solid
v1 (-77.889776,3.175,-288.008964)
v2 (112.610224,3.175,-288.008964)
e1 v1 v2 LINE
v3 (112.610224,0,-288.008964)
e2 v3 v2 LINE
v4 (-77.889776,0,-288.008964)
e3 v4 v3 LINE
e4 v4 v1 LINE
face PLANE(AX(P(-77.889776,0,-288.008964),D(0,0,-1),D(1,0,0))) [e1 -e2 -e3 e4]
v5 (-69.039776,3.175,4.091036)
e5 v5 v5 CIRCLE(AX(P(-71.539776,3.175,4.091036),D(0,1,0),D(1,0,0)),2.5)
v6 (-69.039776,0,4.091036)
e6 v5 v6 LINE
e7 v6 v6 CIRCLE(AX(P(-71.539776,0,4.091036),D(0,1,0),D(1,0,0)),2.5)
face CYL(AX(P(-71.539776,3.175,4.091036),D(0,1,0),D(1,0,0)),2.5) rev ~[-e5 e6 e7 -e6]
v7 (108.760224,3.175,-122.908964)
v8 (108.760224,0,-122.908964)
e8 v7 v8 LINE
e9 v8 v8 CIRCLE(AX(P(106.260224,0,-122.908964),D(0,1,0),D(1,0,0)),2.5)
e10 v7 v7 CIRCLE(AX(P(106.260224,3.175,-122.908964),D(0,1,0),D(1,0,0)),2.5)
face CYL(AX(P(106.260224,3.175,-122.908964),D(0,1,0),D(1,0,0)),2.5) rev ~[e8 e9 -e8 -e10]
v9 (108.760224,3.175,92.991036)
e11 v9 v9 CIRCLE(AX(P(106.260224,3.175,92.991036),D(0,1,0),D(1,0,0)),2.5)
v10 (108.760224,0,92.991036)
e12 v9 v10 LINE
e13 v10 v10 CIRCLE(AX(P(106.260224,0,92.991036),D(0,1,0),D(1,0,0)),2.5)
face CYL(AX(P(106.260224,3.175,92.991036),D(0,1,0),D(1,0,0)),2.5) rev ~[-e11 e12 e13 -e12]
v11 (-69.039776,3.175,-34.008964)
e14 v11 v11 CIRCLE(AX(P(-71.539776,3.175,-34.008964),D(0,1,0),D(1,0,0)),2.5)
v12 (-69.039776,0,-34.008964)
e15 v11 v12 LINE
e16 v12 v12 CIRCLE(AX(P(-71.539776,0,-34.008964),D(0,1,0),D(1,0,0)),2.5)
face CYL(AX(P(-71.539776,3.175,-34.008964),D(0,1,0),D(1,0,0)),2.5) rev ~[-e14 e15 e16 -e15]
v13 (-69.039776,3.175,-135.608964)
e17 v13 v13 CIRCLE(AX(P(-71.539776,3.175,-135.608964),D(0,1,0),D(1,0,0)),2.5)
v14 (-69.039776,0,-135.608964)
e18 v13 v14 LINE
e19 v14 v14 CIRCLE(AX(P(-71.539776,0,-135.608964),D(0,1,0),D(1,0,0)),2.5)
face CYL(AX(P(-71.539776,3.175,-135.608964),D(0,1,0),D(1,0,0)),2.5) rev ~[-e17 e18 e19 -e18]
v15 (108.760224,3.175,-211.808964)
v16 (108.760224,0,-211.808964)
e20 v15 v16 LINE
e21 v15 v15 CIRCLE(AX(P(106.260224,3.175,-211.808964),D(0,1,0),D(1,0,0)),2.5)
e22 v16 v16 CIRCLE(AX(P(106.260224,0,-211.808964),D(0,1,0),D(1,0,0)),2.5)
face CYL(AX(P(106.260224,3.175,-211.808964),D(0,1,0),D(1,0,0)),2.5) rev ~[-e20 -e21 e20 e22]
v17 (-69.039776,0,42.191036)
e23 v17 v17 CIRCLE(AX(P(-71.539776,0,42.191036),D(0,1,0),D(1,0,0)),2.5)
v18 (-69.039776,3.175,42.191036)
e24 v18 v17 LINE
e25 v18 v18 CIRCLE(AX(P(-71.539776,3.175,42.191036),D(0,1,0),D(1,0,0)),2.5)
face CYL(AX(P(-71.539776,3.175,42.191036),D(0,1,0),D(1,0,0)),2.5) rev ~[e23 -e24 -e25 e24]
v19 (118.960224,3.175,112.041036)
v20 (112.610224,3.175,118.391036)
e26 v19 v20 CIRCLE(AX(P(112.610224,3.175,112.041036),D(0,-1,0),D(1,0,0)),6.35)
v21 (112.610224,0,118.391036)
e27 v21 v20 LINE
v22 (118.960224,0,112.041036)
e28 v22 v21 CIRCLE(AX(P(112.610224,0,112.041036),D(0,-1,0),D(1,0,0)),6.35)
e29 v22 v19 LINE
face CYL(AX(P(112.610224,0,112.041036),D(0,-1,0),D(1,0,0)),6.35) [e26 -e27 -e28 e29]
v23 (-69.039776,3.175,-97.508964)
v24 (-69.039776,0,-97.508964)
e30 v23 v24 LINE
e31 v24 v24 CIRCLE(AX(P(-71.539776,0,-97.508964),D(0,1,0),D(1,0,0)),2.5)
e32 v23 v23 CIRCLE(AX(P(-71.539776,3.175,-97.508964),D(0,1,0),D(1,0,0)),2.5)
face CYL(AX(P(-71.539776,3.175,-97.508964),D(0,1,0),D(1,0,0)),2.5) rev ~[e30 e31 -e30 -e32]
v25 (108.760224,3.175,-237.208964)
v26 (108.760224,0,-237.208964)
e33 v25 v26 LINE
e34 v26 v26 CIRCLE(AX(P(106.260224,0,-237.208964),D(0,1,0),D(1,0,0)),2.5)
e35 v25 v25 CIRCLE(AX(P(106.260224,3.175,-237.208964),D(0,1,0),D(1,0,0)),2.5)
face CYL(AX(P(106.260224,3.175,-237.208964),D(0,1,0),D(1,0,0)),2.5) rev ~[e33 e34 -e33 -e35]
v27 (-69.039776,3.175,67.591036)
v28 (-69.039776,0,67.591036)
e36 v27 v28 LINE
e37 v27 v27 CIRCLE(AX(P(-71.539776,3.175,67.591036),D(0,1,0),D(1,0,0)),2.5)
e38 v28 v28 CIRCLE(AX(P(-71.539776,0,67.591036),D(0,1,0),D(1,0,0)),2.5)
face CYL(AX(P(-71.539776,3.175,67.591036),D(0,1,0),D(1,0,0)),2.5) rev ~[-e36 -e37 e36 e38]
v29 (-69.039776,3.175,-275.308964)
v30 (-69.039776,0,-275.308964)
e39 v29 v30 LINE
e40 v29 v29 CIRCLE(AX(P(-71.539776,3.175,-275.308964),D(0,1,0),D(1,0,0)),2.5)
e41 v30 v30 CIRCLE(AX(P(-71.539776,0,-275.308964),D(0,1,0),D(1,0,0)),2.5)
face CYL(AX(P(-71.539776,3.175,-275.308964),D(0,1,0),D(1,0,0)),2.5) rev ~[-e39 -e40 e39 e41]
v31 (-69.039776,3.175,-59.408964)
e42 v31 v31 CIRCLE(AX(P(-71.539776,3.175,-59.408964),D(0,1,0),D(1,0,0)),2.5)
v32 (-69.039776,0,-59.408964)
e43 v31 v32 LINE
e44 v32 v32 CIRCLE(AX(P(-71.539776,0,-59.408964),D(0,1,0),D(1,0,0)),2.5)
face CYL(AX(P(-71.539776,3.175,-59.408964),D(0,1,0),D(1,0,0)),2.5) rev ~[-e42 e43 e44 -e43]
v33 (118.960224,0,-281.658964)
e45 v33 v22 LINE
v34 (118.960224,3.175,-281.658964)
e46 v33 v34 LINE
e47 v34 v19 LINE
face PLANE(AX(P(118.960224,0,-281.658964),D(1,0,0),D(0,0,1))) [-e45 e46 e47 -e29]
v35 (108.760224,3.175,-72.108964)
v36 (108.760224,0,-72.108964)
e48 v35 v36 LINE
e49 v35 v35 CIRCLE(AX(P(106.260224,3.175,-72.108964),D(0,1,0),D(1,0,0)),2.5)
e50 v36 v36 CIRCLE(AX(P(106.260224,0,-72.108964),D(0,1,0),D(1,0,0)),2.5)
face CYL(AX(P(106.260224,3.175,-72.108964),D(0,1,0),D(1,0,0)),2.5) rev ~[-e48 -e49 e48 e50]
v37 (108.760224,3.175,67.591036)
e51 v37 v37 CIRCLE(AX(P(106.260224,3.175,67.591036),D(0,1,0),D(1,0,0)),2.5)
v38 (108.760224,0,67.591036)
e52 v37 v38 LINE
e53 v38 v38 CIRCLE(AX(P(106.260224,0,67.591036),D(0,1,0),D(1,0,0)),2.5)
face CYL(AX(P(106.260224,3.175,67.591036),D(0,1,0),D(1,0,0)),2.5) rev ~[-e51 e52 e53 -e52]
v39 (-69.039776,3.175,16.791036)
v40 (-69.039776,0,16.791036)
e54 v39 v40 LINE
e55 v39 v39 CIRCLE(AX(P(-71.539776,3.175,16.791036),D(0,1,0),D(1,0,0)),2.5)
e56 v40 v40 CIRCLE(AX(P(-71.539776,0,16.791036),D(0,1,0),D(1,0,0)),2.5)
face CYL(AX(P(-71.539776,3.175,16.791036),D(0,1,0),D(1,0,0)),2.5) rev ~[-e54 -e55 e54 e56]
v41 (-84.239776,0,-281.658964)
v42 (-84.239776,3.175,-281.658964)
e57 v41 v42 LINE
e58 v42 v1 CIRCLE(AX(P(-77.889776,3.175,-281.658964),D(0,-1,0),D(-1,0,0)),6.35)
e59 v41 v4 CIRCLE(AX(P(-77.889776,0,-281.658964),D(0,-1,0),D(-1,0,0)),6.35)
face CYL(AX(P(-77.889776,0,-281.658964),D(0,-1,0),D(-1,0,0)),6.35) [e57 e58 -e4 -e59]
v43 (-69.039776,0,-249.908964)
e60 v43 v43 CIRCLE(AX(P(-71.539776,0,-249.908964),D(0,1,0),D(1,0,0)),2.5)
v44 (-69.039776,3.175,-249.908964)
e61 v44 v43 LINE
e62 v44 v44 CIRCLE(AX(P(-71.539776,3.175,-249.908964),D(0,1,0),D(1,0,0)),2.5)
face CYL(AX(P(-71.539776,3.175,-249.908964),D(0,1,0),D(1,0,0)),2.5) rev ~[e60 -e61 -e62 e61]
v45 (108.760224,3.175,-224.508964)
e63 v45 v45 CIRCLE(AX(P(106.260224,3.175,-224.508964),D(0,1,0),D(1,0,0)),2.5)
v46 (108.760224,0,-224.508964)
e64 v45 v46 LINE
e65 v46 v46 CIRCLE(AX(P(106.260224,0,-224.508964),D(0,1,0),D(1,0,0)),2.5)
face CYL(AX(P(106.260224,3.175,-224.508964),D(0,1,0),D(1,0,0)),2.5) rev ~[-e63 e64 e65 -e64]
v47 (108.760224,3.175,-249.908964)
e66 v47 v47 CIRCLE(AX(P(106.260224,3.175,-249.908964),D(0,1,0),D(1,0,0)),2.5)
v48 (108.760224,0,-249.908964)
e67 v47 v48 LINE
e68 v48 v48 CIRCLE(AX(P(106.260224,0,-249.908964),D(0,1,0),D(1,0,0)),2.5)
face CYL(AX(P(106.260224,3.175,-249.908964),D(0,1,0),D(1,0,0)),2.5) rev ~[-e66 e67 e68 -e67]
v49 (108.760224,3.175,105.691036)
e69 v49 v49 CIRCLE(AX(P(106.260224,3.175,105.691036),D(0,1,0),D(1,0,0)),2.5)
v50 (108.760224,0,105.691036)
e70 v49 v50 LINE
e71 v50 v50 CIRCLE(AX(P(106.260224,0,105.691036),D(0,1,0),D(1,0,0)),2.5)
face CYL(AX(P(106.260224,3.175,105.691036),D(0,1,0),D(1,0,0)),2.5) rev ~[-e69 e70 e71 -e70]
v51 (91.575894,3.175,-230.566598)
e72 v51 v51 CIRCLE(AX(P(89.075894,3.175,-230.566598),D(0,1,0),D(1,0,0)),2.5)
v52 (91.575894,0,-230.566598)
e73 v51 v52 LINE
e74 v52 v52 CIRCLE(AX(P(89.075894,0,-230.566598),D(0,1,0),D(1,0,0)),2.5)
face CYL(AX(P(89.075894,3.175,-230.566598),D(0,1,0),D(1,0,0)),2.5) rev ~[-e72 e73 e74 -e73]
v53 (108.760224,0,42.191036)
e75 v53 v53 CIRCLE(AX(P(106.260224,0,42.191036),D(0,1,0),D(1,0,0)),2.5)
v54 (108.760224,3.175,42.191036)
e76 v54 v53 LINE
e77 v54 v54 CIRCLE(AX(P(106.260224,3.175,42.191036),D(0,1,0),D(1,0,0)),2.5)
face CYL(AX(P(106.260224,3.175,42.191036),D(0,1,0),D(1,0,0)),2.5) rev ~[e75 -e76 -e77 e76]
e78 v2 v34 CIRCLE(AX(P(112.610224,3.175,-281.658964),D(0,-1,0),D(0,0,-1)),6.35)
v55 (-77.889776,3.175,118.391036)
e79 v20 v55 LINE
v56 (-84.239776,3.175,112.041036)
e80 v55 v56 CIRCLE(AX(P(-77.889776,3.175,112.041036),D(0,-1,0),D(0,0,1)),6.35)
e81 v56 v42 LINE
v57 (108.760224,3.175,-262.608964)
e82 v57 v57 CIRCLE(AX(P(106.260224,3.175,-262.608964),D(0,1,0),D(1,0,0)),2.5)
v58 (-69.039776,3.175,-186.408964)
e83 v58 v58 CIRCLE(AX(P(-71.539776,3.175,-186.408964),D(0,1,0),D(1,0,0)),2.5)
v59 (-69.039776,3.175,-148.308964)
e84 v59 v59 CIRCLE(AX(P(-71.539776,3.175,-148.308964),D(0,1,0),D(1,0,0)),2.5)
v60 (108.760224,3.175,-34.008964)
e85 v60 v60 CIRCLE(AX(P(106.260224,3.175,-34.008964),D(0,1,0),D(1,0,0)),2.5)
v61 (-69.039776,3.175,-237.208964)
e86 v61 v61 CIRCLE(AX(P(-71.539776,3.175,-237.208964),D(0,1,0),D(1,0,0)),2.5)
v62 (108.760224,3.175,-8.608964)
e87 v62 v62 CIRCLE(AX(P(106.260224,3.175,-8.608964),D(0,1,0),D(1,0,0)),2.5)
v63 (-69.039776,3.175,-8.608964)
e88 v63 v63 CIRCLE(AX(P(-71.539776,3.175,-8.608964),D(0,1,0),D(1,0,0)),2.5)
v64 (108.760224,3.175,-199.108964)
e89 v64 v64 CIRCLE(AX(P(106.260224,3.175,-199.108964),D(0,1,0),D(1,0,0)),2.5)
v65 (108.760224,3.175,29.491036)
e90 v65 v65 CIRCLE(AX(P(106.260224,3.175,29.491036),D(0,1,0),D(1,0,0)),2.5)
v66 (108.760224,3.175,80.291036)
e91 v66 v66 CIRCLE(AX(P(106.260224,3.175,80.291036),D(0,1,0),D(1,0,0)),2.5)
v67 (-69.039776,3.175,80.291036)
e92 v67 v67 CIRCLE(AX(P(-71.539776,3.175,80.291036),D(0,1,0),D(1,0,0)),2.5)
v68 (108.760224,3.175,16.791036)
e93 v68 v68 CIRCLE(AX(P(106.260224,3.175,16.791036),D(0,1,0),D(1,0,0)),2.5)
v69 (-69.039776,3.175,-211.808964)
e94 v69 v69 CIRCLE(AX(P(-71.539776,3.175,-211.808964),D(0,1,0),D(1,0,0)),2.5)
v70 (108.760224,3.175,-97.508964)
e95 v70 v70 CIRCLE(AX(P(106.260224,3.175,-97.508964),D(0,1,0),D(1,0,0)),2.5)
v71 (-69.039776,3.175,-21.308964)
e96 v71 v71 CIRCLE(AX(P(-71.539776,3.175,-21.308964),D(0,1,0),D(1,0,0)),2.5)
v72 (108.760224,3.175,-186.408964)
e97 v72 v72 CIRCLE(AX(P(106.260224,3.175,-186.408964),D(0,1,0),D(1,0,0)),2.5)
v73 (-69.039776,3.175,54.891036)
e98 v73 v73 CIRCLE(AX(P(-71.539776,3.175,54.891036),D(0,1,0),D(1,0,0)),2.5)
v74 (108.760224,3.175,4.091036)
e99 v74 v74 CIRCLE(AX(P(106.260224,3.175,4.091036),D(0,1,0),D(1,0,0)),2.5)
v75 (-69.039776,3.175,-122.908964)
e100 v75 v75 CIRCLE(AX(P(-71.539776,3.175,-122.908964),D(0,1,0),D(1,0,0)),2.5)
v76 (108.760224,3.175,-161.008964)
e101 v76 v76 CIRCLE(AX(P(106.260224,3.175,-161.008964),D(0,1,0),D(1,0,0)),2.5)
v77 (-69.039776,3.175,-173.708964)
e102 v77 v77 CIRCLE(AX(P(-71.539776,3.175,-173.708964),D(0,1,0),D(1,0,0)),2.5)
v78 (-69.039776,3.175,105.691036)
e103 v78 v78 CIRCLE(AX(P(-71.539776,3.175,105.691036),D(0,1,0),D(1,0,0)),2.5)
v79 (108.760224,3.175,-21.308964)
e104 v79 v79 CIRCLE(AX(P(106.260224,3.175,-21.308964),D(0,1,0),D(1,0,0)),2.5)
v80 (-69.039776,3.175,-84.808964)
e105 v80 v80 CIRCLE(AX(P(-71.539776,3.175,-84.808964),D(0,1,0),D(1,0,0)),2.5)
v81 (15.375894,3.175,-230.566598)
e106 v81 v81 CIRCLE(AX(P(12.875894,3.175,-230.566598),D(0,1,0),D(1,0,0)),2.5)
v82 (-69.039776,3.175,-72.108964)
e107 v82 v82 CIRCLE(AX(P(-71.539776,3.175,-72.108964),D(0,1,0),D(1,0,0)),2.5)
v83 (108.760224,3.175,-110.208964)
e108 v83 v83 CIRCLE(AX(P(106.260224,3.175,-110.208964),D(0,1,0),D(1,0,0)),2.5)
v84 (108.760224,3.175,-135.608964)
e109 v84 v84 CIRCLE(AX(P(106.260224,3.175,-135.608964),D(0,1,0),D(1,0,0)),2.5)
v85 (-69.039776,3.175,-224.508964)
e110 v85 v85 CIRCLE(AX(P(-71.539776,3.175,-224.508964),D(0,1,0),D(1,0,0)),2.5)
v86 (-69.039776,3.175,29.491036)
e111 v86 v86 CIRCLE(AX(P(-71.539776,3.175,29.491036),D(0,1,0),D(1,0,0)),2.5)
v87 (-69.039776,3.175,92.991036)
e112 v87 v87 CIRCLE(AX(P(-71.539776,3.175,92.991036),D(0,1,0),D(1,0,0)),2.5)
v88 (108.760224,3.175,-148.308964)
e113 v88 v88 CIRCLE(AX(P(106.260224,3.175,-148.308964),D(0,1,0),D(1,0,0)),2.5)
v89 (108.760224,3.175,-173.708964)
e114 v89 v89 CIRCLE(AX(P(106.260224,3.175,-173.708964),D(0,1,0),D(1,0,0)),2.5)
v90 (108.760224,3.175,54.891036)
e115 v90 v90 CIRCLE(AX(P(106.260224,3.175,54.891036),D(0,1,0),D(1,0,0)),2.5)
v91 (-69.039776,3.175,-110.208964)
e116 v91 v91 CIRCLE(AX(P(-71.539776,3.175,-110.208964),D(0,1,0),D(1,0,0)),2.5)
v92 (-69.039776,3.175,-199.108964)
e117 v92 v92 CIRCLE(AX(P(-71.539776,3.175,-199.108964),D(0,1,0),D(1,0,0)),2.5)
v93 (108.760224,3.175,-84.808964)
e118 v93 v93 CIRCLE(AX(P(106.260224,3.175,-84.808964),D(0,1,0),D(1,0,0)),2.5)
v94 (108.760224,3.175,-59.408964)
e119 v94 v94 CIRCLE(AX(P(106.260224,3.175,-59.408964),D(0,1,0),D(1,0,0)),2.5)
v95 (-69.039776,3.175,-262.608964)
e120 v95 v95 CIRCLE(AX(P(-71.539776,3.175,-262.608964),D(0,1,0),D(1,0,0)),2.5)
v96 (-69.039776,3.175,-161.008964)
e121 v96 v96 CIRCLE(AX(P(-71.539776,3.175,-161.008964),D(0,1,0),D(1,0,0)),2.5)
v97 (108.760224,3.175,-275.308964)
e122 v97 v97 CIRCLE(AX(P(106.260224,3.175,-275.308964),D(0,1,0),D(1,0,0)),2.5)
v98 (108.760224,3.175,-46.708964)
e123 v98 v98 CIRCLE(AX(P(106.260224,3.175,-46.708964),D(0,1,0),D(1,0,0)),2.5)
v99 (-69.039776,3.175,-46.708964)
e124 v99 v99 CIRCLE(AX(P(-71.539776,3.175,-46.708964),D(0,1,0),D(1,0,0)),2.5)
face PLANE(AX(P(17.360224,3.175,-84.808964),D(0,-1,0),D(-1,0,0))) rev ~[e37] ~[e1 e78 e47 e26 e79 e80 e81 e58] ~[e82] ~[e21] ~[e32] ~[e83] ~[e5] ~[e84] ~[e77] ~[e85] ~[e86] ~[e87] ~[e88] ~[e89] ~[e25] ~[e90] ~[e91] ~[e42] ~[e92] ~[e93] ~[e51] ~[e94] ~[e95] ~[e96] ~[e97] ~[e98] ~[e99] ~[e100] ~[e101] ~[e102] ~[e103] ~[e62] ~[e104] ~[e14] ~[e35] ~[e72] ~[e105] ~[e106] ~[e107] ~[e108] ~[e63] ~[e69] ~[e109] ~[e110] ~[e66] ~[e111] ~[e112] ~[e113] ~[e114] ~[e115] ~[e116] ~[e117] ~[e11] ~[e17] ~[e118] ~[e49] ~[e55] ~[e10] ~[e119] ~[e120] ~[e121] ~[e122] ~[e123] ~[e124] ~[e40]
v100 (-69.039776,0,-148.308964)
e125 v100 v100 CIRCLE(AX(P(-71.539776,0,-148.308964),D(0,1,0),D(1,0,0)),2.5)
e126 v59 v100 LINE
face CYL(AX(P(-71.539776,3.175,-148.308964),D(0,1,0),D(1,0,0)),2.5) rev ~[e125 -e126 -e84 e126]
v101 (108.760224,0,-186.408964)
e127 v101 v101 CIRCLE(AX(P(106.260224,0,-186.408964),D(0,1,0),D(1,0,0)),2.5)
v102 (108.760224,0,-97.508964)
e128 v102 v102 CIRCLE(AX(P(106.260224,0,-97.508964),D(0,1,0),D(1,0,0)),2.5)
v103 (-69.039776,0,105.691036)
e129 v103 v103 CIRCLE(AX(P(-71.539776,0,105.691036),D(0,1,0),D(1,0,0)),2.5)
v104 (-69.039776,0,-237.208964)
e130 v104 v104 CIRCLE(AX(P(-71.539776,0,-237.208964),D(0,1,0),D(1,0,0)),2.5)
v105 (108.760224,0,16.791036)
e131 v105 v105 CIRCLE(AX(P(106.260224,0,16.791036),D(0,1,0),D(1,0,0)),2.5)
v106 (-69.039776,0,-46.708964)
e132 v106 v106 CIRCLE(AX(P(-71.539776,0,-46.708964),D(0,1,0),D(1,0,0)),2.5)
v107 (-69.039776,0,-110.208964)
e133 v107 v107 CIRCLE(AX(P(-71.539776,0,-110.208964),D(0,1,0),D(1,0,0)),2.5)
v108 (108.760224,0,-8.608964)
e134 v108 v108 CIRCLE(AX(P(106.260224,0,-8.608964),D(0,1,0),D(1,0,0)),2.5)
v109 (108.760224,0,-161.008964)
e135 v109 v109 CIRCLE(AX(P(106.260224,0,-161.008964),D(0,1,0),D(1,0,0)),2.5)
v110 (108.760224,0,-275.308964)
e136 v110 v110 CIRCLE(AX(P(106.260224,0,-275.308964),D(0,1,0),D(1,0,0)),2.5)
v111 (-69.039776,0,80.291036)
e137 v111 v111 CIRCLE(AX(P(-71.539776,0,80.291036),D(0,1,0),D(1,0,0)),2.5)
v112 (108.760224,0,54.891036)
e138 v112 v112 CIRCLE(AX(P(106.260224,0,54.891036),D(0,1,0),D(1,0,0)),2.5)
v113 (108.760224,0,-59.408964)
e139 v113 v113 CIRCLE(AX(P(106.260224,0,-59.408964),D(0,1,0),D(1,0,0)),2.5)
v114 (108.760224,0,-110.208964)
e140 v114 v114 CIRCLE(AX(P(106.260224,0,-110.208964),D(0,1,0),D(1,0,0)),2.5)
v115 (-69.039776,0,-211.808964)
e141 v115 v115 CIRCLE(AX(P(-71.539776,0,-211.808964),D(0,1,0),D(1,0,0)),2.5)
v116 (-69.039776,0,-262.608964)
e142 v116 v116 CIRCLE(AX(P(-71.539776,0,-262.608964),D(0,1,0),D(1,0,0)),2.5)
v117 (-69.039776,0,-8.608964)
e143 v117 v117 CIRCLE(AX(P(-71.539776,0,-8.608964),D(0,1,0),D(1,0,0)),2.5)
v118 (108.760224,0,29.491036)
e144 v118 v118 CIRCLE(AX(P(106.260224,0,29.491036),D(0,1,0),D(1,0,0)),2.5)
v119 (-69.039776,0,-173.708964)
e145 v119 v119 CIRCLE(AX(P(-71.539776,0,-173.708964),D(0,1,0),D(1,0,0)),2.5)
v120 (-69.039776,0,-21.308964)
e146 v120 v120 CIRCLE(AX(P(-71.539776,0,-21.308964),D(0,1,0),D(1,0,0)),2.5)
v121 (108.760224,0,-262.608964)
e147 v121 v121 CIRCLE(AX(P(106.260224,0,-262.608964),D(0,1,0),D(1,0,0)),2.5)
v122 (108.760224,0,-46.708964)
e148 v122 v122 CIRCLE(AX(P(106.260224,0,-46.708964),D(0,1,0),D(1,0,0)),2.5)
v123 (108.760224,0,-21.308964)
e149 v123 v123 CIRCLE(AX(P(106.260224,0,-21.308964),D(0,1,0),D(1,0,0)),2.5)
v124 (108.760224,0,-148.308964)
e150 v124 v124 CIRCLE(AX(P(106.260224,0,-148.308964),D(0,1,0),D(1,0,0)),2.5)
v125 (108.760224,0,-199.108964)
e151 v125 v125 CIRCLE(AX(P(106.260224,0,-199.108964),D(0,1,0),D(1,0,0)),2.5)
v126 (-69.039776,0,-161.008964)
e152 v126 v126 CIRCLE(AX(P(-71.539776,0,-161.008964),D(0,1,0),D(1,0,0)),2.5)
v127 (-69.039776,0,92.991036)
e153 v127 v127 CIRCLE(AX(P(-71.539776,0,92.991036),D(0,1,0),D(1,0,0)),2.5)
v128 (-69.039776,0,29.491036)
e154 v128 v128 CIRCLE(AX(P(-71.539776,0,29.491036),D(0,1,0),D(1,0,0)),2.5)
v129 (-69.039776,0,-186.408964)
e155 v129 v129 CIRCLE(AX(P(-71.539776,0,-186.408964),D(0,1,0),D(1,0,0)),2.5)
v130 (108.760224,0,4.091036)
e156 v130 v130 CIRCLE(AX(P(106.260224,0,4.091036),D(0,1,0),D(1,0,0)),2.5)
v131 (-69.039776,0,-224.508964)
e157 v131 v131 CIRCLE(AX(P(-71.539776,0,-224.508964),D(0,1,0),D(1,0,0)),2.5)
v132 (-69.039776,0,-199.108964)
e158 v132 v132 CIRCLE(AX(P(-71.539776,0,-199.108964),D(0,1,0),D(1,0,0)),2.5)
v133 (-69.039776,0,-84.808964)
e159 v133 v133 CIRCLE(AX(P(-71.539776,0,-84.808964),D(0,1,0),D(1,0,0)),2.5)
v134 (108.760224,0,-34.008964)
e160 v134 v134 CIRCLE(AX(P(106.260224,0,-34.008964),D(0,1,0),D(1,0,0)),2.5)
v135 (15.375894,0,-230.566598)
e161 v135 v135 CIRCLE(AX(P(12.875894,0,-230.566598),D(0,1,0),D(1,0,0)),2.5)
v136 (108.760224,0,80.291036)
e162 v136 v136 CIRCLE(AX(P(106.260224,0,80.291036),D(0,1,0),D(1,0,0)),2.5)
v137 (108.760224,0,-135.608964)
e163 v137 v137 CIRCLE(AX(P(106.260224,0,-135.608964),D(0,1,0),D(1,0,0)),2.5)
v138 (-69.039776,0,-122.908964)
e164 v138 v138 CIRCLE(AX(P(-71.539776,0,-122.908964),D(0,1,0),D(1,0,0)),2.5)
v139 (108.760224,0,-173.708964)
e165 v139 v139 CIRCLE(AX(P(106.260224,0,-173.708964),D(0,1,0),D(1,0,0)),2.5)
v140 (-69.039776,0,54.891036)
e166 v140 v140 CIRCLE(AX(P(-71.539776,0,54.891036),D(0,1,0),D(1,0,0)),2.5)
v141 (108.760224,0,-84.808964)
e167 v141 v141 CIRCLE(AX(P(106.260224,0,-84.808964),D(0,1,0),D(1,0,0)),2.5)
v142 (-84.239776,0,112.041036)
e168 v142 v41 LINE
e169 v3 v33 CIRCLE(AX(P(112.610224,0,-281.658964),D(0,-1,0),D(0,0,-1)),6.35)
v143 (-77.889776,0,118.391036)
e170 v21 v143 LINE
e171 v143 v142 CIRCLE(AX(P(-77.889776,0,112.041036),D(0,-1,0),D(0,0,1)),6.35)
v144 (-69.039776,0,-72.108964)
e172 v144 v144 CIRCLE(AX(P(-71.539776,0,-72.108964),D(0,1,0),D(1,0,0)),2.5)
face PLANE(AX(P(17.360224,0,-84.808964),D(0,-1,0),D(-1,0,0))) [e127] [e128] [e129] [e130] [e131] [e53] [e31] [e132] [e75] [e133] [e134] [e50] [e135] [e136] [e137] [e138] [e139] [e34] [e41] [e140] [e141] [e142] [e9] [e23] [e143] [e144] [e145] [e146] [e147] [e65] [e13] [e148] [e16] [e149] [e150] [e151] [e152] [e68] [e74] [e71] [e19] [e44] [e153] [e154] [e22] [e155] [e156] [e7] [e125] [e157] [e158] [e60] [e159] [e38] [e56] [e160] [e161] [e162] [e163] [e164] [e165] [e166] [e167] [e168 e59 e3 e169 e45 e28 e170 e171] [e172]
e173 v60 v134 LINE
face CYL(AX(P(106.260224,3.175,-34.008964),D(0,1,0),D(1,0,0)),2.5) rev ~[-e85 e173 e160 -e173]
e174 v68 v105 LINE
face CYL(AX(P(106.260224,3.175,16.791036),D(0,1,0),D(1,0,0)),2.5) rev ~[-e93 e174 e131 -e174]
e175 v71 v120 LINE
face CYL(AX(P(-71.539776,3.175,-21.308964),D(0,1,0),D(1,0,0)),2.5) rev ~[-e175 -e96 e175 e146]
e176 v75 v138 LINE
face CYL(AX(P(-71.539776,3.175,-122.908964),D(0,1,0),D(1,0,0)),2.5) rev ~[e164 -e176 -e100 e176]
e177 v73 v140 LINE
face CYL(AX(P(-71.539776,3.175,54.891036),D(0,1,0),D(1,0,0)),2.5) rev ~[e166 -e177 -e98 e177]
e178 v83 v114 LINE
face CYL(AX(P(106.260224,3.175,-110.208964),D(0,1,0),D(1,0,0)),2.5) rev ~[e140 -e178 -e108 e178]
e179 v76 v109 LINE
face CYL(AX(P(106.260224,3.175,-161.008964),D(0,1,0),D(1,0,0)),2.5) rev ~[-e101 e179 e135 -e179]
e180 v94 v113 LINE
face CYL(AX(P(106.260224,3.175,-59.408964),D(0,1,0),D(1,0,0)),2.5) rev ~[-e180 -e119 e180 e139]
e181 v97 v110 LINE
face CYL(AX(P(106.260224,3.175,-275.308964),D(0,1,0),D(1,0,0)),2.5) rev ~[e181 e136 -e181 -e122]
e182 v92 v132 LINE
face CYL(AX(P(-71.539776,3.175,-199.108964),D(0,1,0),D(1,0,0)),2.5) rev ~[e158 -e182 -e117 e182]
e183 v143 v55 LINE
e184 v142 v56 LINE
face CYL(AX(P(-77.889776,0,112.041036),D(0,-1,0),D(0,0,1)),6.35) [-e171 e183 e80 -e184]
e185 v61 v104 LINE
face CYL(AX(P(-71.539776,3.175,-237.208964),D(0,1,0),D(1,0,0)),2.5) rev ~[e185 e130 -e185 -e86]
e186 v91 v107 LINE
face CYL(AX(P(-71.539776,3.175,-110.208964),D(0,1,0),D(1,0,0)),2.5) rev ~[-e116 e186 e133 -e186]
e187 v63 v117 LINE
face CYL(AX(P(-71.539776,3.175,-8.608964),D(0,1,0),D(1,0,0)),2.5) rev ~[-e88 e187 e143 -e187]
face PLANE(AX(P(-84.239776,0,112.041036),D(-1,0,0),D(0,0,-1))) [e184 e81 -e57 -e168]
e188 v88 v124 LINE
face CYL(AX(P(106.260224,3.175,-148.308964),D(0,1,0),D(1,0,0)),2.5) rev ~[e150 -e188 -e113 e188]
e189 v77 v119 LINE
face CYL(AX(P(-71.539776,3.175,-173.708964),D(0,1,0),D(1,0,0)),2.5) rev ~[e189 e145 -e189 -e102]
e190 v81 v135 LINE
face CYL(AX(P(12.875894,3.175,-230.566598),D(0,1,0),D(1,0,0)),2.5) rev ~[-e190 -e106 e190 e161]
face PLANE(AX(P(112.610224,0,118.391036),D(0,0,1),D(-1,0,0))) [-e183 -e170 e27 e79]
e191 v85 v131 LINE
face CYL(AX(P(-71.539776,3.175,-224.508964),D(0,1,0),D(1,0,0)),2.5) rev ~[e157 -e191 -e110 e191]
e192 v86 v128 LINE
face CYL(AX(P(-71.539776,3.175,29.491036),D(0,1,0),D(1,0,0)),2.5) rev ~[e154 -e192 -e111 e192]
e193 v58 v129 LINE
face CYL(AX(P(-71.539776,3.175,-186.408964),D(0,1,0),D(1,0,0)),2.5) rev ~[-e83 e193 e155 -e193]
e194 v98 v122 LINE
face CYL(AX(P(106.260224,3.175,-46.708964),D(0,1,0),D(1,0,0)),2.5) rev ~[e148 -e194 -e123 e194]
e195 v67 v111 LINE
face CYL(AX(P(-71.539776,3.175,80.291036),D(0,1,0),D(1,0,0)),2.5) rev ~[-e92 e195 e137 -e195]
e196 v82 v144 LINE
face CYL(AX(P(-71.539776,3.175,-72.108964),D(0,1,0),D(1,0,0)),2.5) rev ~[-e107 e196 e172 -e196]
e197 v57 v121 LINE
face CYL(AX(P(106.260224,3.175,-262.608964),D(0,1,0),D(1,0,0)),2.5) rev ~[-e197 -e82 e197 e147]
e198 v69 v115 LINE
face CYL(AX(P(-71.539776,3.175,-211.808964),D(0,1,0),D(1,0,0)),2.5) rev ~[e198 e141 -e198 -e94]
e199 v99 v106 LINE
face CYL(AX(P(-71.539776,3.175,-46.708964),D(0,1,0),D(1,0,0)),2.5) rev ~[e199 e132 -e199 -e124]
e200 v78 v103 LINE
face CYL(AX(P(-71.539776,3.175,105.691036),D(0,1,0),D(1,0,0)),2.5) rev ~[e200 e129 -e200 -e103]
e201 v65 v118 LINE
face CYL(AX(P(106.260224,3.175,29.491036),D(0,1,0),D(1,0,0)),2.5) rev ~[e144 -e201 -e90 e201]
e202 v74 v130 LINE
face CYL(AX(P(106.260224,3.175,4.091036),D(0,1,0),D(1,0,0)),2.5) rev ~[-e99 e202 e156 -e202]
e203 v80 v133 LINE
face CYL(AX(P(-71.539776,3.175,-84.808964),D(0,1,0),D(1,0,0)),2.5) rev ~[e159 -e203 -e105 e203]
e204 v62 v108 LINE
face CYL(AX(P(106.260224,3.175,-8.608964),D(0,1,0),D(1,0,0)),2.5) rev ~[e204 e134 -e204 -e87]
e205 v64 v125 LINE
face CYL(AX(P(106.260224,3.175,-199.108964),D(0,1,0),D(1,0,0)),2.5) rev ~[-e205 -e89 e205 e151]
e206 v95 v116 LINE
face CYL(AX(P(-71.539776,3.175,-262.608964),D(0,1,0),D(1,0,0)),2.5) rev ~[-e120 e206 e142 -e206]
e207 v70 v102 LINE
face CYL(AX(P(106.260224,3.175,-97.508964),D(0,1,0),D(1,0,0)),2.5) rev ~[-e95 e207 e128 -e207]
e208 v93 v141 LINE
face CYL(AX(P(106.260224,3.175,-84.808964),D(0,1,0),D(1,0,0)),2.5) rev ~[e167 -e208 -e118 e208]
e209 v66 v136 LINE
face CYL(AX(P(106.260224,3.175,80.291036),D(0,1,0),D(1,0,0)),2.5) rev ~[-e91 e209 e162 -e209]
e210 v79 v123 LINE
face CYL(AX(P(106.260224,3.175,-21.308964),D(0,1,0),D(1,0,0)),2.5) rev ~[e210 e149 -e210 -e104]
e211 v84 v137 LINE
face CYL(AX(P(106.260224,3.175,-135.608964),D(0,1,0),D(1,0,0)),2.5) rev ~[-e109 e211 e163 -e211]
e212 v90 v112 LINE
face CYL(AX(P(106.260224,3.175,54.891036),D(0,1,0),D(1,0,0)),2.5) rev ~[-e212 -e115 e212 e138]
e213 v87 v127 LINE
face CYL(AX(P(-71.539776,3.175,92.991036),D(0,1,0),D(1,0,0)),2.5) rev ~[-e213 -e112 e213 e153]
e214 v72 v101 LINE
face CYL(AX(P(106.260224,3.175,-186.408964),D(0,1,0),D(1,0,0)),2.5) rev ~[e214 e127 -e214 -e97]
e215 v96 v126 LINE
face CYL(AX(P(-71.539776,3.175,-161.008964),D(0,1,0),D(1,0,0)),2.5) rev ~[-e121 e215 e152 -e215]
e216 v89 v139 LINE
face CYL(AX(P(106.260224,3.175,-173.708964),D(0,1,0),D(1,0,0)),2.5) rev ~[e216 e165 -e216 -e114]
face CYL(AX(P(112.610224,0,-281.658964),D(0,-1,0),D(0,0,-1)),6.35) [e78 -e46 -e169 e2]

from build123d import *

# Parameters (mm, degrees)
BOSS_EXTRUDE1_DEPTH = 3.175
SKETCH3_R           = 2.5
CUT_EXTRUDE2_DEPTH  = 4.175
SKETCH7_R           = 2.5
CUT_EXTRUDE5_DEPTH  = 4.175


with BuildPart() as part:
    # Sketch1 → Boss-Extrude1 (new body)
    with BuildSketch(Plane(origin=(0, 0, 0), x_dir=(1, 0, 0), z_dir=(0, 1, 0))):
        with BuildLine():
            Line((-77.88977591, 288.008963585), (112.61022409, 288.008963585))
            ThreePointArc((112.61022409, 288.008963585), (117.10035215, 286.149091646), (118.96022409, 281.658963585))
            Line((118.96022409, 281.658963585), (118.96022409, -112.041036415))
            ThreePointArc((118.96022409, -112.041036415), (117.10035215, -116.531164475), (112.61022409, -118.391036415))
            Line((112.61022409, -118.391036415), (-77.88977591, -118.391036415))
            ThreePointArc((-77.88977591, -118.391036415), (-82.379903971, -116.531164475), (-84.23977591, -112.041036415))
            Line((-84.23977591, -112.041036415), (-84.23977591, 281.658963585))
            ThreePointArc((-84.23977591, 281.658963585), (-82.379903971, 286.149091646), (-77.88977591, 288.008963585))
        make_face()
    extrude(amount=BOSS_EXTRUDE1_DEPTH)

    # Sketch3 → Cut-Extrude2 (cut, through all)
    with BuildSketch(Plane(origin=(0, 3.175, 0), x_dir=(1, 0, 0), z_dir=(0, 1, 0))):
        with Locations((-71.53977591, 275.308963585)):
            Circle(SKETCH3_R)
        with Locations((106.26022409, 275.308963585)):
            Circle(SKETCH3_R)
        with Locations((-71.53977591, 262.608963585)):
            Circle(SKETCH3_R)
        with Locations((106.26022409, 262.608963585)):
            Circle(SKETCH3_R)
        with Locations((-71.53977591, 249.908963585)):
            Circle(SKETCH3_R)
        with Locations((106.26022409, 249.908963585)):
            Circle(SKETCH3_R)
        with Locations((-71.53977591, 237.208963585)):
            Circle(SKETCH3_R)
        with Locations((106.26022409, 237.208963585)):
            Circle(SKETCH3_R)
        with Locations((-71.53977591, 224.508963585)):
            Circle(SKETCH3_R)
        with Locations((106.26022409, 224.508963585)):
            Circle(SKETCH3_R)
        with Locations((-71.53977591, 211.808963585)):
            Circle(SKETCH3_R)
        with Locations((106.26022409, 211.808963585)):
            Circle(SKETCH3_R)
        with Locations((-71.53977591, 199.108963585)):
            Circle(SKETCH3_R)
        with Locations((106.26022409, 199.108963585)):
            Circle(SKETCH3_R)
        with Locations((-71.53977591, 186.408963585)):
            Circle(SKETCH3_R)
        with Locations((106.26022409, 186.408963585)):
            Circle(SKETCH3_R)
        with Locations((-71.53977591, 173.708963585)):
            Circle(SKETCH3_R)
        with Locations((106.26022409, 173.708963585)):
            Circle(SKETCH3_R)
        with Locations((-71.53977591, 161.008963585)):
            Circle(SKETCH3_R)
        with Locations((106.26022409, 161.008963585)):
            Circle(SKETCH3_R)
        with Locations((-71.53977591, 148.308963585)):
            Circle(SKETCH3_R)
        with Locations((106.26022409, 148.308963585)):
            Circle(SKETCH3_R)
        with Locations((-71.53977591, 135.608963585)):
            Circle(SKETCH3_R)
        with Locations((106.26022409, 135.608963585)):
            Circle(SKETCH3_R)
        with Locations((-71.53977591, 122.908963585)):
            Circle(SKETCH3_R)
        with Locations((106.26022409, 122.908963585)):
            Circle(SKETCH3_R)
        with Locations((-71.53977591, 110.208963585)):
            Circle(SKETCH3_R)
        with Locations((106.26022409, 110.208963585)):
            Circle(SKETCH3_R)
        with Locations((-71.53977591, 97.508963585)):
            Circle(SKETCH3_R)
        with Locations((106.26022409, 97.508963585)):
            Circle(SKETCH3_R)
        with Locations((-71.53977591, 84.808963585)):
            Circle(SKETCH3_R)
        with Locations((106.26022409, 84.808963585)):
            Circle(SKETCH3_R)
        with Locations((-71.53977591, 72.108963585)):
            Circle(SKETCH3_R)
        with Locations((106.26022409, 72.108963585)):
            Circle(SKETCH3_R)
        with Locations((-71.53977591, 59.408963585)):
            Circle(SKETCH3_R)
        with Locations((106.26022409, 59.408963585)):
            Circle(SKETCH3_R)
        with Locations((-71.53977591, 46.708963585)):
            Circle(SKETCH3_R)
        with Locations((106.26022409, 46.708963585)):
            Circle(SKETCH3_R)
        with Locations((-71.53977591, 34.008963585)):
            Circle(SKETCH3_R)
        with Locations((106.26022409, 34.008963585)):
            Circle(SKETCH3_R)
        with Locations((-71.53977591, 21.308963585)):
            Circle(SKETCH3_R)
        with Locations((106.26022409, 21.308963585)):
            Circle(SKETCH3_R)
        with Locations((-71.53977591, 8.608963585)):
            Circle(SKETCH3_R)
        with Locations((106.26022409, 8.608963585)):
            Circle(SKETCH3_R)
        with Locations((-71.53977591, -4.091036415)):
            Circle(SKETCH3_R)
        with Locations((106.26022409, -4.091036415)):
            Circle(SKETCH3_R)
        with Locations((-71.53977591, -16.791036415)):
            Circle(SKETCH3_R)
        with Locations((106.26022409, -16.791036415)):
            Circle(SKETCH3_R)
        with Locations((-71.53977591, -29.491036415)):
            Circle(SKETCH3_R)
        with Locations((106.26022409, -29.491036415)):
            Circle(SKETCH3_R)
        with Locations((-71.53977591, -42.191036415)):
            Circle(SKETCH3_R)
        with Locations((106.26022409, -42.191036415)):
            Circle(SKETCH3_R)
        with Locations((-71.53977591, -54.891036415)):
            Circle(SKETCH3_R)
        with Locations((106.26022409, -54.891036415)):
            Circle(SKETCH3_R)
        with Locations((-71.53977591, -67.591036415)):
            Circle(SKETCH3_R)
        with Locations((106.26022409, -67.591036415)):
            Circle(SKETCH3_R)
        with Locations((-71.53977591, -80.291036415)):
            Circle(SKETCH3_R)
        with Locations((106.26022409, -80.291036415)):
            Circle(SKETCH3_R)
        with Locations((-71.53977591, -92.991036415)):
            Circle(SKETCH3_R)
        with Locations((106.26022409, -92.991036415)):
            Circle(SKETCH3_R)
        with Locations((-71.53977591, -105.691036415)):
            Circle(SKETCH3_R)
        with Locations((106.26022409, -105.691036415)):
            Circle(SKETCH3_R)
    extrude(amount=-CUT_EXTRUDE2_DEPTH, mode=Mode.SUBTRACT)

    # Sketch7 → Cut-Extrude5 (cut, through all)
    with BuildSketch(Plane(origin=(0, 3.175, 0), x_dir=(1, 0, 0), z_dir=(0, 1, 0))):
        with Locations((89.075893655, 230.566598453)):
            Circle(SKETCH7_R)
        with Locations((12.875893655, 230.566598453)):
            Circle(SKETCH7_R)
    extrude(amount=-CUT_EXTRUDE5_DEPTH, mode=Mode.SUBTRACT)


solid = part.part
